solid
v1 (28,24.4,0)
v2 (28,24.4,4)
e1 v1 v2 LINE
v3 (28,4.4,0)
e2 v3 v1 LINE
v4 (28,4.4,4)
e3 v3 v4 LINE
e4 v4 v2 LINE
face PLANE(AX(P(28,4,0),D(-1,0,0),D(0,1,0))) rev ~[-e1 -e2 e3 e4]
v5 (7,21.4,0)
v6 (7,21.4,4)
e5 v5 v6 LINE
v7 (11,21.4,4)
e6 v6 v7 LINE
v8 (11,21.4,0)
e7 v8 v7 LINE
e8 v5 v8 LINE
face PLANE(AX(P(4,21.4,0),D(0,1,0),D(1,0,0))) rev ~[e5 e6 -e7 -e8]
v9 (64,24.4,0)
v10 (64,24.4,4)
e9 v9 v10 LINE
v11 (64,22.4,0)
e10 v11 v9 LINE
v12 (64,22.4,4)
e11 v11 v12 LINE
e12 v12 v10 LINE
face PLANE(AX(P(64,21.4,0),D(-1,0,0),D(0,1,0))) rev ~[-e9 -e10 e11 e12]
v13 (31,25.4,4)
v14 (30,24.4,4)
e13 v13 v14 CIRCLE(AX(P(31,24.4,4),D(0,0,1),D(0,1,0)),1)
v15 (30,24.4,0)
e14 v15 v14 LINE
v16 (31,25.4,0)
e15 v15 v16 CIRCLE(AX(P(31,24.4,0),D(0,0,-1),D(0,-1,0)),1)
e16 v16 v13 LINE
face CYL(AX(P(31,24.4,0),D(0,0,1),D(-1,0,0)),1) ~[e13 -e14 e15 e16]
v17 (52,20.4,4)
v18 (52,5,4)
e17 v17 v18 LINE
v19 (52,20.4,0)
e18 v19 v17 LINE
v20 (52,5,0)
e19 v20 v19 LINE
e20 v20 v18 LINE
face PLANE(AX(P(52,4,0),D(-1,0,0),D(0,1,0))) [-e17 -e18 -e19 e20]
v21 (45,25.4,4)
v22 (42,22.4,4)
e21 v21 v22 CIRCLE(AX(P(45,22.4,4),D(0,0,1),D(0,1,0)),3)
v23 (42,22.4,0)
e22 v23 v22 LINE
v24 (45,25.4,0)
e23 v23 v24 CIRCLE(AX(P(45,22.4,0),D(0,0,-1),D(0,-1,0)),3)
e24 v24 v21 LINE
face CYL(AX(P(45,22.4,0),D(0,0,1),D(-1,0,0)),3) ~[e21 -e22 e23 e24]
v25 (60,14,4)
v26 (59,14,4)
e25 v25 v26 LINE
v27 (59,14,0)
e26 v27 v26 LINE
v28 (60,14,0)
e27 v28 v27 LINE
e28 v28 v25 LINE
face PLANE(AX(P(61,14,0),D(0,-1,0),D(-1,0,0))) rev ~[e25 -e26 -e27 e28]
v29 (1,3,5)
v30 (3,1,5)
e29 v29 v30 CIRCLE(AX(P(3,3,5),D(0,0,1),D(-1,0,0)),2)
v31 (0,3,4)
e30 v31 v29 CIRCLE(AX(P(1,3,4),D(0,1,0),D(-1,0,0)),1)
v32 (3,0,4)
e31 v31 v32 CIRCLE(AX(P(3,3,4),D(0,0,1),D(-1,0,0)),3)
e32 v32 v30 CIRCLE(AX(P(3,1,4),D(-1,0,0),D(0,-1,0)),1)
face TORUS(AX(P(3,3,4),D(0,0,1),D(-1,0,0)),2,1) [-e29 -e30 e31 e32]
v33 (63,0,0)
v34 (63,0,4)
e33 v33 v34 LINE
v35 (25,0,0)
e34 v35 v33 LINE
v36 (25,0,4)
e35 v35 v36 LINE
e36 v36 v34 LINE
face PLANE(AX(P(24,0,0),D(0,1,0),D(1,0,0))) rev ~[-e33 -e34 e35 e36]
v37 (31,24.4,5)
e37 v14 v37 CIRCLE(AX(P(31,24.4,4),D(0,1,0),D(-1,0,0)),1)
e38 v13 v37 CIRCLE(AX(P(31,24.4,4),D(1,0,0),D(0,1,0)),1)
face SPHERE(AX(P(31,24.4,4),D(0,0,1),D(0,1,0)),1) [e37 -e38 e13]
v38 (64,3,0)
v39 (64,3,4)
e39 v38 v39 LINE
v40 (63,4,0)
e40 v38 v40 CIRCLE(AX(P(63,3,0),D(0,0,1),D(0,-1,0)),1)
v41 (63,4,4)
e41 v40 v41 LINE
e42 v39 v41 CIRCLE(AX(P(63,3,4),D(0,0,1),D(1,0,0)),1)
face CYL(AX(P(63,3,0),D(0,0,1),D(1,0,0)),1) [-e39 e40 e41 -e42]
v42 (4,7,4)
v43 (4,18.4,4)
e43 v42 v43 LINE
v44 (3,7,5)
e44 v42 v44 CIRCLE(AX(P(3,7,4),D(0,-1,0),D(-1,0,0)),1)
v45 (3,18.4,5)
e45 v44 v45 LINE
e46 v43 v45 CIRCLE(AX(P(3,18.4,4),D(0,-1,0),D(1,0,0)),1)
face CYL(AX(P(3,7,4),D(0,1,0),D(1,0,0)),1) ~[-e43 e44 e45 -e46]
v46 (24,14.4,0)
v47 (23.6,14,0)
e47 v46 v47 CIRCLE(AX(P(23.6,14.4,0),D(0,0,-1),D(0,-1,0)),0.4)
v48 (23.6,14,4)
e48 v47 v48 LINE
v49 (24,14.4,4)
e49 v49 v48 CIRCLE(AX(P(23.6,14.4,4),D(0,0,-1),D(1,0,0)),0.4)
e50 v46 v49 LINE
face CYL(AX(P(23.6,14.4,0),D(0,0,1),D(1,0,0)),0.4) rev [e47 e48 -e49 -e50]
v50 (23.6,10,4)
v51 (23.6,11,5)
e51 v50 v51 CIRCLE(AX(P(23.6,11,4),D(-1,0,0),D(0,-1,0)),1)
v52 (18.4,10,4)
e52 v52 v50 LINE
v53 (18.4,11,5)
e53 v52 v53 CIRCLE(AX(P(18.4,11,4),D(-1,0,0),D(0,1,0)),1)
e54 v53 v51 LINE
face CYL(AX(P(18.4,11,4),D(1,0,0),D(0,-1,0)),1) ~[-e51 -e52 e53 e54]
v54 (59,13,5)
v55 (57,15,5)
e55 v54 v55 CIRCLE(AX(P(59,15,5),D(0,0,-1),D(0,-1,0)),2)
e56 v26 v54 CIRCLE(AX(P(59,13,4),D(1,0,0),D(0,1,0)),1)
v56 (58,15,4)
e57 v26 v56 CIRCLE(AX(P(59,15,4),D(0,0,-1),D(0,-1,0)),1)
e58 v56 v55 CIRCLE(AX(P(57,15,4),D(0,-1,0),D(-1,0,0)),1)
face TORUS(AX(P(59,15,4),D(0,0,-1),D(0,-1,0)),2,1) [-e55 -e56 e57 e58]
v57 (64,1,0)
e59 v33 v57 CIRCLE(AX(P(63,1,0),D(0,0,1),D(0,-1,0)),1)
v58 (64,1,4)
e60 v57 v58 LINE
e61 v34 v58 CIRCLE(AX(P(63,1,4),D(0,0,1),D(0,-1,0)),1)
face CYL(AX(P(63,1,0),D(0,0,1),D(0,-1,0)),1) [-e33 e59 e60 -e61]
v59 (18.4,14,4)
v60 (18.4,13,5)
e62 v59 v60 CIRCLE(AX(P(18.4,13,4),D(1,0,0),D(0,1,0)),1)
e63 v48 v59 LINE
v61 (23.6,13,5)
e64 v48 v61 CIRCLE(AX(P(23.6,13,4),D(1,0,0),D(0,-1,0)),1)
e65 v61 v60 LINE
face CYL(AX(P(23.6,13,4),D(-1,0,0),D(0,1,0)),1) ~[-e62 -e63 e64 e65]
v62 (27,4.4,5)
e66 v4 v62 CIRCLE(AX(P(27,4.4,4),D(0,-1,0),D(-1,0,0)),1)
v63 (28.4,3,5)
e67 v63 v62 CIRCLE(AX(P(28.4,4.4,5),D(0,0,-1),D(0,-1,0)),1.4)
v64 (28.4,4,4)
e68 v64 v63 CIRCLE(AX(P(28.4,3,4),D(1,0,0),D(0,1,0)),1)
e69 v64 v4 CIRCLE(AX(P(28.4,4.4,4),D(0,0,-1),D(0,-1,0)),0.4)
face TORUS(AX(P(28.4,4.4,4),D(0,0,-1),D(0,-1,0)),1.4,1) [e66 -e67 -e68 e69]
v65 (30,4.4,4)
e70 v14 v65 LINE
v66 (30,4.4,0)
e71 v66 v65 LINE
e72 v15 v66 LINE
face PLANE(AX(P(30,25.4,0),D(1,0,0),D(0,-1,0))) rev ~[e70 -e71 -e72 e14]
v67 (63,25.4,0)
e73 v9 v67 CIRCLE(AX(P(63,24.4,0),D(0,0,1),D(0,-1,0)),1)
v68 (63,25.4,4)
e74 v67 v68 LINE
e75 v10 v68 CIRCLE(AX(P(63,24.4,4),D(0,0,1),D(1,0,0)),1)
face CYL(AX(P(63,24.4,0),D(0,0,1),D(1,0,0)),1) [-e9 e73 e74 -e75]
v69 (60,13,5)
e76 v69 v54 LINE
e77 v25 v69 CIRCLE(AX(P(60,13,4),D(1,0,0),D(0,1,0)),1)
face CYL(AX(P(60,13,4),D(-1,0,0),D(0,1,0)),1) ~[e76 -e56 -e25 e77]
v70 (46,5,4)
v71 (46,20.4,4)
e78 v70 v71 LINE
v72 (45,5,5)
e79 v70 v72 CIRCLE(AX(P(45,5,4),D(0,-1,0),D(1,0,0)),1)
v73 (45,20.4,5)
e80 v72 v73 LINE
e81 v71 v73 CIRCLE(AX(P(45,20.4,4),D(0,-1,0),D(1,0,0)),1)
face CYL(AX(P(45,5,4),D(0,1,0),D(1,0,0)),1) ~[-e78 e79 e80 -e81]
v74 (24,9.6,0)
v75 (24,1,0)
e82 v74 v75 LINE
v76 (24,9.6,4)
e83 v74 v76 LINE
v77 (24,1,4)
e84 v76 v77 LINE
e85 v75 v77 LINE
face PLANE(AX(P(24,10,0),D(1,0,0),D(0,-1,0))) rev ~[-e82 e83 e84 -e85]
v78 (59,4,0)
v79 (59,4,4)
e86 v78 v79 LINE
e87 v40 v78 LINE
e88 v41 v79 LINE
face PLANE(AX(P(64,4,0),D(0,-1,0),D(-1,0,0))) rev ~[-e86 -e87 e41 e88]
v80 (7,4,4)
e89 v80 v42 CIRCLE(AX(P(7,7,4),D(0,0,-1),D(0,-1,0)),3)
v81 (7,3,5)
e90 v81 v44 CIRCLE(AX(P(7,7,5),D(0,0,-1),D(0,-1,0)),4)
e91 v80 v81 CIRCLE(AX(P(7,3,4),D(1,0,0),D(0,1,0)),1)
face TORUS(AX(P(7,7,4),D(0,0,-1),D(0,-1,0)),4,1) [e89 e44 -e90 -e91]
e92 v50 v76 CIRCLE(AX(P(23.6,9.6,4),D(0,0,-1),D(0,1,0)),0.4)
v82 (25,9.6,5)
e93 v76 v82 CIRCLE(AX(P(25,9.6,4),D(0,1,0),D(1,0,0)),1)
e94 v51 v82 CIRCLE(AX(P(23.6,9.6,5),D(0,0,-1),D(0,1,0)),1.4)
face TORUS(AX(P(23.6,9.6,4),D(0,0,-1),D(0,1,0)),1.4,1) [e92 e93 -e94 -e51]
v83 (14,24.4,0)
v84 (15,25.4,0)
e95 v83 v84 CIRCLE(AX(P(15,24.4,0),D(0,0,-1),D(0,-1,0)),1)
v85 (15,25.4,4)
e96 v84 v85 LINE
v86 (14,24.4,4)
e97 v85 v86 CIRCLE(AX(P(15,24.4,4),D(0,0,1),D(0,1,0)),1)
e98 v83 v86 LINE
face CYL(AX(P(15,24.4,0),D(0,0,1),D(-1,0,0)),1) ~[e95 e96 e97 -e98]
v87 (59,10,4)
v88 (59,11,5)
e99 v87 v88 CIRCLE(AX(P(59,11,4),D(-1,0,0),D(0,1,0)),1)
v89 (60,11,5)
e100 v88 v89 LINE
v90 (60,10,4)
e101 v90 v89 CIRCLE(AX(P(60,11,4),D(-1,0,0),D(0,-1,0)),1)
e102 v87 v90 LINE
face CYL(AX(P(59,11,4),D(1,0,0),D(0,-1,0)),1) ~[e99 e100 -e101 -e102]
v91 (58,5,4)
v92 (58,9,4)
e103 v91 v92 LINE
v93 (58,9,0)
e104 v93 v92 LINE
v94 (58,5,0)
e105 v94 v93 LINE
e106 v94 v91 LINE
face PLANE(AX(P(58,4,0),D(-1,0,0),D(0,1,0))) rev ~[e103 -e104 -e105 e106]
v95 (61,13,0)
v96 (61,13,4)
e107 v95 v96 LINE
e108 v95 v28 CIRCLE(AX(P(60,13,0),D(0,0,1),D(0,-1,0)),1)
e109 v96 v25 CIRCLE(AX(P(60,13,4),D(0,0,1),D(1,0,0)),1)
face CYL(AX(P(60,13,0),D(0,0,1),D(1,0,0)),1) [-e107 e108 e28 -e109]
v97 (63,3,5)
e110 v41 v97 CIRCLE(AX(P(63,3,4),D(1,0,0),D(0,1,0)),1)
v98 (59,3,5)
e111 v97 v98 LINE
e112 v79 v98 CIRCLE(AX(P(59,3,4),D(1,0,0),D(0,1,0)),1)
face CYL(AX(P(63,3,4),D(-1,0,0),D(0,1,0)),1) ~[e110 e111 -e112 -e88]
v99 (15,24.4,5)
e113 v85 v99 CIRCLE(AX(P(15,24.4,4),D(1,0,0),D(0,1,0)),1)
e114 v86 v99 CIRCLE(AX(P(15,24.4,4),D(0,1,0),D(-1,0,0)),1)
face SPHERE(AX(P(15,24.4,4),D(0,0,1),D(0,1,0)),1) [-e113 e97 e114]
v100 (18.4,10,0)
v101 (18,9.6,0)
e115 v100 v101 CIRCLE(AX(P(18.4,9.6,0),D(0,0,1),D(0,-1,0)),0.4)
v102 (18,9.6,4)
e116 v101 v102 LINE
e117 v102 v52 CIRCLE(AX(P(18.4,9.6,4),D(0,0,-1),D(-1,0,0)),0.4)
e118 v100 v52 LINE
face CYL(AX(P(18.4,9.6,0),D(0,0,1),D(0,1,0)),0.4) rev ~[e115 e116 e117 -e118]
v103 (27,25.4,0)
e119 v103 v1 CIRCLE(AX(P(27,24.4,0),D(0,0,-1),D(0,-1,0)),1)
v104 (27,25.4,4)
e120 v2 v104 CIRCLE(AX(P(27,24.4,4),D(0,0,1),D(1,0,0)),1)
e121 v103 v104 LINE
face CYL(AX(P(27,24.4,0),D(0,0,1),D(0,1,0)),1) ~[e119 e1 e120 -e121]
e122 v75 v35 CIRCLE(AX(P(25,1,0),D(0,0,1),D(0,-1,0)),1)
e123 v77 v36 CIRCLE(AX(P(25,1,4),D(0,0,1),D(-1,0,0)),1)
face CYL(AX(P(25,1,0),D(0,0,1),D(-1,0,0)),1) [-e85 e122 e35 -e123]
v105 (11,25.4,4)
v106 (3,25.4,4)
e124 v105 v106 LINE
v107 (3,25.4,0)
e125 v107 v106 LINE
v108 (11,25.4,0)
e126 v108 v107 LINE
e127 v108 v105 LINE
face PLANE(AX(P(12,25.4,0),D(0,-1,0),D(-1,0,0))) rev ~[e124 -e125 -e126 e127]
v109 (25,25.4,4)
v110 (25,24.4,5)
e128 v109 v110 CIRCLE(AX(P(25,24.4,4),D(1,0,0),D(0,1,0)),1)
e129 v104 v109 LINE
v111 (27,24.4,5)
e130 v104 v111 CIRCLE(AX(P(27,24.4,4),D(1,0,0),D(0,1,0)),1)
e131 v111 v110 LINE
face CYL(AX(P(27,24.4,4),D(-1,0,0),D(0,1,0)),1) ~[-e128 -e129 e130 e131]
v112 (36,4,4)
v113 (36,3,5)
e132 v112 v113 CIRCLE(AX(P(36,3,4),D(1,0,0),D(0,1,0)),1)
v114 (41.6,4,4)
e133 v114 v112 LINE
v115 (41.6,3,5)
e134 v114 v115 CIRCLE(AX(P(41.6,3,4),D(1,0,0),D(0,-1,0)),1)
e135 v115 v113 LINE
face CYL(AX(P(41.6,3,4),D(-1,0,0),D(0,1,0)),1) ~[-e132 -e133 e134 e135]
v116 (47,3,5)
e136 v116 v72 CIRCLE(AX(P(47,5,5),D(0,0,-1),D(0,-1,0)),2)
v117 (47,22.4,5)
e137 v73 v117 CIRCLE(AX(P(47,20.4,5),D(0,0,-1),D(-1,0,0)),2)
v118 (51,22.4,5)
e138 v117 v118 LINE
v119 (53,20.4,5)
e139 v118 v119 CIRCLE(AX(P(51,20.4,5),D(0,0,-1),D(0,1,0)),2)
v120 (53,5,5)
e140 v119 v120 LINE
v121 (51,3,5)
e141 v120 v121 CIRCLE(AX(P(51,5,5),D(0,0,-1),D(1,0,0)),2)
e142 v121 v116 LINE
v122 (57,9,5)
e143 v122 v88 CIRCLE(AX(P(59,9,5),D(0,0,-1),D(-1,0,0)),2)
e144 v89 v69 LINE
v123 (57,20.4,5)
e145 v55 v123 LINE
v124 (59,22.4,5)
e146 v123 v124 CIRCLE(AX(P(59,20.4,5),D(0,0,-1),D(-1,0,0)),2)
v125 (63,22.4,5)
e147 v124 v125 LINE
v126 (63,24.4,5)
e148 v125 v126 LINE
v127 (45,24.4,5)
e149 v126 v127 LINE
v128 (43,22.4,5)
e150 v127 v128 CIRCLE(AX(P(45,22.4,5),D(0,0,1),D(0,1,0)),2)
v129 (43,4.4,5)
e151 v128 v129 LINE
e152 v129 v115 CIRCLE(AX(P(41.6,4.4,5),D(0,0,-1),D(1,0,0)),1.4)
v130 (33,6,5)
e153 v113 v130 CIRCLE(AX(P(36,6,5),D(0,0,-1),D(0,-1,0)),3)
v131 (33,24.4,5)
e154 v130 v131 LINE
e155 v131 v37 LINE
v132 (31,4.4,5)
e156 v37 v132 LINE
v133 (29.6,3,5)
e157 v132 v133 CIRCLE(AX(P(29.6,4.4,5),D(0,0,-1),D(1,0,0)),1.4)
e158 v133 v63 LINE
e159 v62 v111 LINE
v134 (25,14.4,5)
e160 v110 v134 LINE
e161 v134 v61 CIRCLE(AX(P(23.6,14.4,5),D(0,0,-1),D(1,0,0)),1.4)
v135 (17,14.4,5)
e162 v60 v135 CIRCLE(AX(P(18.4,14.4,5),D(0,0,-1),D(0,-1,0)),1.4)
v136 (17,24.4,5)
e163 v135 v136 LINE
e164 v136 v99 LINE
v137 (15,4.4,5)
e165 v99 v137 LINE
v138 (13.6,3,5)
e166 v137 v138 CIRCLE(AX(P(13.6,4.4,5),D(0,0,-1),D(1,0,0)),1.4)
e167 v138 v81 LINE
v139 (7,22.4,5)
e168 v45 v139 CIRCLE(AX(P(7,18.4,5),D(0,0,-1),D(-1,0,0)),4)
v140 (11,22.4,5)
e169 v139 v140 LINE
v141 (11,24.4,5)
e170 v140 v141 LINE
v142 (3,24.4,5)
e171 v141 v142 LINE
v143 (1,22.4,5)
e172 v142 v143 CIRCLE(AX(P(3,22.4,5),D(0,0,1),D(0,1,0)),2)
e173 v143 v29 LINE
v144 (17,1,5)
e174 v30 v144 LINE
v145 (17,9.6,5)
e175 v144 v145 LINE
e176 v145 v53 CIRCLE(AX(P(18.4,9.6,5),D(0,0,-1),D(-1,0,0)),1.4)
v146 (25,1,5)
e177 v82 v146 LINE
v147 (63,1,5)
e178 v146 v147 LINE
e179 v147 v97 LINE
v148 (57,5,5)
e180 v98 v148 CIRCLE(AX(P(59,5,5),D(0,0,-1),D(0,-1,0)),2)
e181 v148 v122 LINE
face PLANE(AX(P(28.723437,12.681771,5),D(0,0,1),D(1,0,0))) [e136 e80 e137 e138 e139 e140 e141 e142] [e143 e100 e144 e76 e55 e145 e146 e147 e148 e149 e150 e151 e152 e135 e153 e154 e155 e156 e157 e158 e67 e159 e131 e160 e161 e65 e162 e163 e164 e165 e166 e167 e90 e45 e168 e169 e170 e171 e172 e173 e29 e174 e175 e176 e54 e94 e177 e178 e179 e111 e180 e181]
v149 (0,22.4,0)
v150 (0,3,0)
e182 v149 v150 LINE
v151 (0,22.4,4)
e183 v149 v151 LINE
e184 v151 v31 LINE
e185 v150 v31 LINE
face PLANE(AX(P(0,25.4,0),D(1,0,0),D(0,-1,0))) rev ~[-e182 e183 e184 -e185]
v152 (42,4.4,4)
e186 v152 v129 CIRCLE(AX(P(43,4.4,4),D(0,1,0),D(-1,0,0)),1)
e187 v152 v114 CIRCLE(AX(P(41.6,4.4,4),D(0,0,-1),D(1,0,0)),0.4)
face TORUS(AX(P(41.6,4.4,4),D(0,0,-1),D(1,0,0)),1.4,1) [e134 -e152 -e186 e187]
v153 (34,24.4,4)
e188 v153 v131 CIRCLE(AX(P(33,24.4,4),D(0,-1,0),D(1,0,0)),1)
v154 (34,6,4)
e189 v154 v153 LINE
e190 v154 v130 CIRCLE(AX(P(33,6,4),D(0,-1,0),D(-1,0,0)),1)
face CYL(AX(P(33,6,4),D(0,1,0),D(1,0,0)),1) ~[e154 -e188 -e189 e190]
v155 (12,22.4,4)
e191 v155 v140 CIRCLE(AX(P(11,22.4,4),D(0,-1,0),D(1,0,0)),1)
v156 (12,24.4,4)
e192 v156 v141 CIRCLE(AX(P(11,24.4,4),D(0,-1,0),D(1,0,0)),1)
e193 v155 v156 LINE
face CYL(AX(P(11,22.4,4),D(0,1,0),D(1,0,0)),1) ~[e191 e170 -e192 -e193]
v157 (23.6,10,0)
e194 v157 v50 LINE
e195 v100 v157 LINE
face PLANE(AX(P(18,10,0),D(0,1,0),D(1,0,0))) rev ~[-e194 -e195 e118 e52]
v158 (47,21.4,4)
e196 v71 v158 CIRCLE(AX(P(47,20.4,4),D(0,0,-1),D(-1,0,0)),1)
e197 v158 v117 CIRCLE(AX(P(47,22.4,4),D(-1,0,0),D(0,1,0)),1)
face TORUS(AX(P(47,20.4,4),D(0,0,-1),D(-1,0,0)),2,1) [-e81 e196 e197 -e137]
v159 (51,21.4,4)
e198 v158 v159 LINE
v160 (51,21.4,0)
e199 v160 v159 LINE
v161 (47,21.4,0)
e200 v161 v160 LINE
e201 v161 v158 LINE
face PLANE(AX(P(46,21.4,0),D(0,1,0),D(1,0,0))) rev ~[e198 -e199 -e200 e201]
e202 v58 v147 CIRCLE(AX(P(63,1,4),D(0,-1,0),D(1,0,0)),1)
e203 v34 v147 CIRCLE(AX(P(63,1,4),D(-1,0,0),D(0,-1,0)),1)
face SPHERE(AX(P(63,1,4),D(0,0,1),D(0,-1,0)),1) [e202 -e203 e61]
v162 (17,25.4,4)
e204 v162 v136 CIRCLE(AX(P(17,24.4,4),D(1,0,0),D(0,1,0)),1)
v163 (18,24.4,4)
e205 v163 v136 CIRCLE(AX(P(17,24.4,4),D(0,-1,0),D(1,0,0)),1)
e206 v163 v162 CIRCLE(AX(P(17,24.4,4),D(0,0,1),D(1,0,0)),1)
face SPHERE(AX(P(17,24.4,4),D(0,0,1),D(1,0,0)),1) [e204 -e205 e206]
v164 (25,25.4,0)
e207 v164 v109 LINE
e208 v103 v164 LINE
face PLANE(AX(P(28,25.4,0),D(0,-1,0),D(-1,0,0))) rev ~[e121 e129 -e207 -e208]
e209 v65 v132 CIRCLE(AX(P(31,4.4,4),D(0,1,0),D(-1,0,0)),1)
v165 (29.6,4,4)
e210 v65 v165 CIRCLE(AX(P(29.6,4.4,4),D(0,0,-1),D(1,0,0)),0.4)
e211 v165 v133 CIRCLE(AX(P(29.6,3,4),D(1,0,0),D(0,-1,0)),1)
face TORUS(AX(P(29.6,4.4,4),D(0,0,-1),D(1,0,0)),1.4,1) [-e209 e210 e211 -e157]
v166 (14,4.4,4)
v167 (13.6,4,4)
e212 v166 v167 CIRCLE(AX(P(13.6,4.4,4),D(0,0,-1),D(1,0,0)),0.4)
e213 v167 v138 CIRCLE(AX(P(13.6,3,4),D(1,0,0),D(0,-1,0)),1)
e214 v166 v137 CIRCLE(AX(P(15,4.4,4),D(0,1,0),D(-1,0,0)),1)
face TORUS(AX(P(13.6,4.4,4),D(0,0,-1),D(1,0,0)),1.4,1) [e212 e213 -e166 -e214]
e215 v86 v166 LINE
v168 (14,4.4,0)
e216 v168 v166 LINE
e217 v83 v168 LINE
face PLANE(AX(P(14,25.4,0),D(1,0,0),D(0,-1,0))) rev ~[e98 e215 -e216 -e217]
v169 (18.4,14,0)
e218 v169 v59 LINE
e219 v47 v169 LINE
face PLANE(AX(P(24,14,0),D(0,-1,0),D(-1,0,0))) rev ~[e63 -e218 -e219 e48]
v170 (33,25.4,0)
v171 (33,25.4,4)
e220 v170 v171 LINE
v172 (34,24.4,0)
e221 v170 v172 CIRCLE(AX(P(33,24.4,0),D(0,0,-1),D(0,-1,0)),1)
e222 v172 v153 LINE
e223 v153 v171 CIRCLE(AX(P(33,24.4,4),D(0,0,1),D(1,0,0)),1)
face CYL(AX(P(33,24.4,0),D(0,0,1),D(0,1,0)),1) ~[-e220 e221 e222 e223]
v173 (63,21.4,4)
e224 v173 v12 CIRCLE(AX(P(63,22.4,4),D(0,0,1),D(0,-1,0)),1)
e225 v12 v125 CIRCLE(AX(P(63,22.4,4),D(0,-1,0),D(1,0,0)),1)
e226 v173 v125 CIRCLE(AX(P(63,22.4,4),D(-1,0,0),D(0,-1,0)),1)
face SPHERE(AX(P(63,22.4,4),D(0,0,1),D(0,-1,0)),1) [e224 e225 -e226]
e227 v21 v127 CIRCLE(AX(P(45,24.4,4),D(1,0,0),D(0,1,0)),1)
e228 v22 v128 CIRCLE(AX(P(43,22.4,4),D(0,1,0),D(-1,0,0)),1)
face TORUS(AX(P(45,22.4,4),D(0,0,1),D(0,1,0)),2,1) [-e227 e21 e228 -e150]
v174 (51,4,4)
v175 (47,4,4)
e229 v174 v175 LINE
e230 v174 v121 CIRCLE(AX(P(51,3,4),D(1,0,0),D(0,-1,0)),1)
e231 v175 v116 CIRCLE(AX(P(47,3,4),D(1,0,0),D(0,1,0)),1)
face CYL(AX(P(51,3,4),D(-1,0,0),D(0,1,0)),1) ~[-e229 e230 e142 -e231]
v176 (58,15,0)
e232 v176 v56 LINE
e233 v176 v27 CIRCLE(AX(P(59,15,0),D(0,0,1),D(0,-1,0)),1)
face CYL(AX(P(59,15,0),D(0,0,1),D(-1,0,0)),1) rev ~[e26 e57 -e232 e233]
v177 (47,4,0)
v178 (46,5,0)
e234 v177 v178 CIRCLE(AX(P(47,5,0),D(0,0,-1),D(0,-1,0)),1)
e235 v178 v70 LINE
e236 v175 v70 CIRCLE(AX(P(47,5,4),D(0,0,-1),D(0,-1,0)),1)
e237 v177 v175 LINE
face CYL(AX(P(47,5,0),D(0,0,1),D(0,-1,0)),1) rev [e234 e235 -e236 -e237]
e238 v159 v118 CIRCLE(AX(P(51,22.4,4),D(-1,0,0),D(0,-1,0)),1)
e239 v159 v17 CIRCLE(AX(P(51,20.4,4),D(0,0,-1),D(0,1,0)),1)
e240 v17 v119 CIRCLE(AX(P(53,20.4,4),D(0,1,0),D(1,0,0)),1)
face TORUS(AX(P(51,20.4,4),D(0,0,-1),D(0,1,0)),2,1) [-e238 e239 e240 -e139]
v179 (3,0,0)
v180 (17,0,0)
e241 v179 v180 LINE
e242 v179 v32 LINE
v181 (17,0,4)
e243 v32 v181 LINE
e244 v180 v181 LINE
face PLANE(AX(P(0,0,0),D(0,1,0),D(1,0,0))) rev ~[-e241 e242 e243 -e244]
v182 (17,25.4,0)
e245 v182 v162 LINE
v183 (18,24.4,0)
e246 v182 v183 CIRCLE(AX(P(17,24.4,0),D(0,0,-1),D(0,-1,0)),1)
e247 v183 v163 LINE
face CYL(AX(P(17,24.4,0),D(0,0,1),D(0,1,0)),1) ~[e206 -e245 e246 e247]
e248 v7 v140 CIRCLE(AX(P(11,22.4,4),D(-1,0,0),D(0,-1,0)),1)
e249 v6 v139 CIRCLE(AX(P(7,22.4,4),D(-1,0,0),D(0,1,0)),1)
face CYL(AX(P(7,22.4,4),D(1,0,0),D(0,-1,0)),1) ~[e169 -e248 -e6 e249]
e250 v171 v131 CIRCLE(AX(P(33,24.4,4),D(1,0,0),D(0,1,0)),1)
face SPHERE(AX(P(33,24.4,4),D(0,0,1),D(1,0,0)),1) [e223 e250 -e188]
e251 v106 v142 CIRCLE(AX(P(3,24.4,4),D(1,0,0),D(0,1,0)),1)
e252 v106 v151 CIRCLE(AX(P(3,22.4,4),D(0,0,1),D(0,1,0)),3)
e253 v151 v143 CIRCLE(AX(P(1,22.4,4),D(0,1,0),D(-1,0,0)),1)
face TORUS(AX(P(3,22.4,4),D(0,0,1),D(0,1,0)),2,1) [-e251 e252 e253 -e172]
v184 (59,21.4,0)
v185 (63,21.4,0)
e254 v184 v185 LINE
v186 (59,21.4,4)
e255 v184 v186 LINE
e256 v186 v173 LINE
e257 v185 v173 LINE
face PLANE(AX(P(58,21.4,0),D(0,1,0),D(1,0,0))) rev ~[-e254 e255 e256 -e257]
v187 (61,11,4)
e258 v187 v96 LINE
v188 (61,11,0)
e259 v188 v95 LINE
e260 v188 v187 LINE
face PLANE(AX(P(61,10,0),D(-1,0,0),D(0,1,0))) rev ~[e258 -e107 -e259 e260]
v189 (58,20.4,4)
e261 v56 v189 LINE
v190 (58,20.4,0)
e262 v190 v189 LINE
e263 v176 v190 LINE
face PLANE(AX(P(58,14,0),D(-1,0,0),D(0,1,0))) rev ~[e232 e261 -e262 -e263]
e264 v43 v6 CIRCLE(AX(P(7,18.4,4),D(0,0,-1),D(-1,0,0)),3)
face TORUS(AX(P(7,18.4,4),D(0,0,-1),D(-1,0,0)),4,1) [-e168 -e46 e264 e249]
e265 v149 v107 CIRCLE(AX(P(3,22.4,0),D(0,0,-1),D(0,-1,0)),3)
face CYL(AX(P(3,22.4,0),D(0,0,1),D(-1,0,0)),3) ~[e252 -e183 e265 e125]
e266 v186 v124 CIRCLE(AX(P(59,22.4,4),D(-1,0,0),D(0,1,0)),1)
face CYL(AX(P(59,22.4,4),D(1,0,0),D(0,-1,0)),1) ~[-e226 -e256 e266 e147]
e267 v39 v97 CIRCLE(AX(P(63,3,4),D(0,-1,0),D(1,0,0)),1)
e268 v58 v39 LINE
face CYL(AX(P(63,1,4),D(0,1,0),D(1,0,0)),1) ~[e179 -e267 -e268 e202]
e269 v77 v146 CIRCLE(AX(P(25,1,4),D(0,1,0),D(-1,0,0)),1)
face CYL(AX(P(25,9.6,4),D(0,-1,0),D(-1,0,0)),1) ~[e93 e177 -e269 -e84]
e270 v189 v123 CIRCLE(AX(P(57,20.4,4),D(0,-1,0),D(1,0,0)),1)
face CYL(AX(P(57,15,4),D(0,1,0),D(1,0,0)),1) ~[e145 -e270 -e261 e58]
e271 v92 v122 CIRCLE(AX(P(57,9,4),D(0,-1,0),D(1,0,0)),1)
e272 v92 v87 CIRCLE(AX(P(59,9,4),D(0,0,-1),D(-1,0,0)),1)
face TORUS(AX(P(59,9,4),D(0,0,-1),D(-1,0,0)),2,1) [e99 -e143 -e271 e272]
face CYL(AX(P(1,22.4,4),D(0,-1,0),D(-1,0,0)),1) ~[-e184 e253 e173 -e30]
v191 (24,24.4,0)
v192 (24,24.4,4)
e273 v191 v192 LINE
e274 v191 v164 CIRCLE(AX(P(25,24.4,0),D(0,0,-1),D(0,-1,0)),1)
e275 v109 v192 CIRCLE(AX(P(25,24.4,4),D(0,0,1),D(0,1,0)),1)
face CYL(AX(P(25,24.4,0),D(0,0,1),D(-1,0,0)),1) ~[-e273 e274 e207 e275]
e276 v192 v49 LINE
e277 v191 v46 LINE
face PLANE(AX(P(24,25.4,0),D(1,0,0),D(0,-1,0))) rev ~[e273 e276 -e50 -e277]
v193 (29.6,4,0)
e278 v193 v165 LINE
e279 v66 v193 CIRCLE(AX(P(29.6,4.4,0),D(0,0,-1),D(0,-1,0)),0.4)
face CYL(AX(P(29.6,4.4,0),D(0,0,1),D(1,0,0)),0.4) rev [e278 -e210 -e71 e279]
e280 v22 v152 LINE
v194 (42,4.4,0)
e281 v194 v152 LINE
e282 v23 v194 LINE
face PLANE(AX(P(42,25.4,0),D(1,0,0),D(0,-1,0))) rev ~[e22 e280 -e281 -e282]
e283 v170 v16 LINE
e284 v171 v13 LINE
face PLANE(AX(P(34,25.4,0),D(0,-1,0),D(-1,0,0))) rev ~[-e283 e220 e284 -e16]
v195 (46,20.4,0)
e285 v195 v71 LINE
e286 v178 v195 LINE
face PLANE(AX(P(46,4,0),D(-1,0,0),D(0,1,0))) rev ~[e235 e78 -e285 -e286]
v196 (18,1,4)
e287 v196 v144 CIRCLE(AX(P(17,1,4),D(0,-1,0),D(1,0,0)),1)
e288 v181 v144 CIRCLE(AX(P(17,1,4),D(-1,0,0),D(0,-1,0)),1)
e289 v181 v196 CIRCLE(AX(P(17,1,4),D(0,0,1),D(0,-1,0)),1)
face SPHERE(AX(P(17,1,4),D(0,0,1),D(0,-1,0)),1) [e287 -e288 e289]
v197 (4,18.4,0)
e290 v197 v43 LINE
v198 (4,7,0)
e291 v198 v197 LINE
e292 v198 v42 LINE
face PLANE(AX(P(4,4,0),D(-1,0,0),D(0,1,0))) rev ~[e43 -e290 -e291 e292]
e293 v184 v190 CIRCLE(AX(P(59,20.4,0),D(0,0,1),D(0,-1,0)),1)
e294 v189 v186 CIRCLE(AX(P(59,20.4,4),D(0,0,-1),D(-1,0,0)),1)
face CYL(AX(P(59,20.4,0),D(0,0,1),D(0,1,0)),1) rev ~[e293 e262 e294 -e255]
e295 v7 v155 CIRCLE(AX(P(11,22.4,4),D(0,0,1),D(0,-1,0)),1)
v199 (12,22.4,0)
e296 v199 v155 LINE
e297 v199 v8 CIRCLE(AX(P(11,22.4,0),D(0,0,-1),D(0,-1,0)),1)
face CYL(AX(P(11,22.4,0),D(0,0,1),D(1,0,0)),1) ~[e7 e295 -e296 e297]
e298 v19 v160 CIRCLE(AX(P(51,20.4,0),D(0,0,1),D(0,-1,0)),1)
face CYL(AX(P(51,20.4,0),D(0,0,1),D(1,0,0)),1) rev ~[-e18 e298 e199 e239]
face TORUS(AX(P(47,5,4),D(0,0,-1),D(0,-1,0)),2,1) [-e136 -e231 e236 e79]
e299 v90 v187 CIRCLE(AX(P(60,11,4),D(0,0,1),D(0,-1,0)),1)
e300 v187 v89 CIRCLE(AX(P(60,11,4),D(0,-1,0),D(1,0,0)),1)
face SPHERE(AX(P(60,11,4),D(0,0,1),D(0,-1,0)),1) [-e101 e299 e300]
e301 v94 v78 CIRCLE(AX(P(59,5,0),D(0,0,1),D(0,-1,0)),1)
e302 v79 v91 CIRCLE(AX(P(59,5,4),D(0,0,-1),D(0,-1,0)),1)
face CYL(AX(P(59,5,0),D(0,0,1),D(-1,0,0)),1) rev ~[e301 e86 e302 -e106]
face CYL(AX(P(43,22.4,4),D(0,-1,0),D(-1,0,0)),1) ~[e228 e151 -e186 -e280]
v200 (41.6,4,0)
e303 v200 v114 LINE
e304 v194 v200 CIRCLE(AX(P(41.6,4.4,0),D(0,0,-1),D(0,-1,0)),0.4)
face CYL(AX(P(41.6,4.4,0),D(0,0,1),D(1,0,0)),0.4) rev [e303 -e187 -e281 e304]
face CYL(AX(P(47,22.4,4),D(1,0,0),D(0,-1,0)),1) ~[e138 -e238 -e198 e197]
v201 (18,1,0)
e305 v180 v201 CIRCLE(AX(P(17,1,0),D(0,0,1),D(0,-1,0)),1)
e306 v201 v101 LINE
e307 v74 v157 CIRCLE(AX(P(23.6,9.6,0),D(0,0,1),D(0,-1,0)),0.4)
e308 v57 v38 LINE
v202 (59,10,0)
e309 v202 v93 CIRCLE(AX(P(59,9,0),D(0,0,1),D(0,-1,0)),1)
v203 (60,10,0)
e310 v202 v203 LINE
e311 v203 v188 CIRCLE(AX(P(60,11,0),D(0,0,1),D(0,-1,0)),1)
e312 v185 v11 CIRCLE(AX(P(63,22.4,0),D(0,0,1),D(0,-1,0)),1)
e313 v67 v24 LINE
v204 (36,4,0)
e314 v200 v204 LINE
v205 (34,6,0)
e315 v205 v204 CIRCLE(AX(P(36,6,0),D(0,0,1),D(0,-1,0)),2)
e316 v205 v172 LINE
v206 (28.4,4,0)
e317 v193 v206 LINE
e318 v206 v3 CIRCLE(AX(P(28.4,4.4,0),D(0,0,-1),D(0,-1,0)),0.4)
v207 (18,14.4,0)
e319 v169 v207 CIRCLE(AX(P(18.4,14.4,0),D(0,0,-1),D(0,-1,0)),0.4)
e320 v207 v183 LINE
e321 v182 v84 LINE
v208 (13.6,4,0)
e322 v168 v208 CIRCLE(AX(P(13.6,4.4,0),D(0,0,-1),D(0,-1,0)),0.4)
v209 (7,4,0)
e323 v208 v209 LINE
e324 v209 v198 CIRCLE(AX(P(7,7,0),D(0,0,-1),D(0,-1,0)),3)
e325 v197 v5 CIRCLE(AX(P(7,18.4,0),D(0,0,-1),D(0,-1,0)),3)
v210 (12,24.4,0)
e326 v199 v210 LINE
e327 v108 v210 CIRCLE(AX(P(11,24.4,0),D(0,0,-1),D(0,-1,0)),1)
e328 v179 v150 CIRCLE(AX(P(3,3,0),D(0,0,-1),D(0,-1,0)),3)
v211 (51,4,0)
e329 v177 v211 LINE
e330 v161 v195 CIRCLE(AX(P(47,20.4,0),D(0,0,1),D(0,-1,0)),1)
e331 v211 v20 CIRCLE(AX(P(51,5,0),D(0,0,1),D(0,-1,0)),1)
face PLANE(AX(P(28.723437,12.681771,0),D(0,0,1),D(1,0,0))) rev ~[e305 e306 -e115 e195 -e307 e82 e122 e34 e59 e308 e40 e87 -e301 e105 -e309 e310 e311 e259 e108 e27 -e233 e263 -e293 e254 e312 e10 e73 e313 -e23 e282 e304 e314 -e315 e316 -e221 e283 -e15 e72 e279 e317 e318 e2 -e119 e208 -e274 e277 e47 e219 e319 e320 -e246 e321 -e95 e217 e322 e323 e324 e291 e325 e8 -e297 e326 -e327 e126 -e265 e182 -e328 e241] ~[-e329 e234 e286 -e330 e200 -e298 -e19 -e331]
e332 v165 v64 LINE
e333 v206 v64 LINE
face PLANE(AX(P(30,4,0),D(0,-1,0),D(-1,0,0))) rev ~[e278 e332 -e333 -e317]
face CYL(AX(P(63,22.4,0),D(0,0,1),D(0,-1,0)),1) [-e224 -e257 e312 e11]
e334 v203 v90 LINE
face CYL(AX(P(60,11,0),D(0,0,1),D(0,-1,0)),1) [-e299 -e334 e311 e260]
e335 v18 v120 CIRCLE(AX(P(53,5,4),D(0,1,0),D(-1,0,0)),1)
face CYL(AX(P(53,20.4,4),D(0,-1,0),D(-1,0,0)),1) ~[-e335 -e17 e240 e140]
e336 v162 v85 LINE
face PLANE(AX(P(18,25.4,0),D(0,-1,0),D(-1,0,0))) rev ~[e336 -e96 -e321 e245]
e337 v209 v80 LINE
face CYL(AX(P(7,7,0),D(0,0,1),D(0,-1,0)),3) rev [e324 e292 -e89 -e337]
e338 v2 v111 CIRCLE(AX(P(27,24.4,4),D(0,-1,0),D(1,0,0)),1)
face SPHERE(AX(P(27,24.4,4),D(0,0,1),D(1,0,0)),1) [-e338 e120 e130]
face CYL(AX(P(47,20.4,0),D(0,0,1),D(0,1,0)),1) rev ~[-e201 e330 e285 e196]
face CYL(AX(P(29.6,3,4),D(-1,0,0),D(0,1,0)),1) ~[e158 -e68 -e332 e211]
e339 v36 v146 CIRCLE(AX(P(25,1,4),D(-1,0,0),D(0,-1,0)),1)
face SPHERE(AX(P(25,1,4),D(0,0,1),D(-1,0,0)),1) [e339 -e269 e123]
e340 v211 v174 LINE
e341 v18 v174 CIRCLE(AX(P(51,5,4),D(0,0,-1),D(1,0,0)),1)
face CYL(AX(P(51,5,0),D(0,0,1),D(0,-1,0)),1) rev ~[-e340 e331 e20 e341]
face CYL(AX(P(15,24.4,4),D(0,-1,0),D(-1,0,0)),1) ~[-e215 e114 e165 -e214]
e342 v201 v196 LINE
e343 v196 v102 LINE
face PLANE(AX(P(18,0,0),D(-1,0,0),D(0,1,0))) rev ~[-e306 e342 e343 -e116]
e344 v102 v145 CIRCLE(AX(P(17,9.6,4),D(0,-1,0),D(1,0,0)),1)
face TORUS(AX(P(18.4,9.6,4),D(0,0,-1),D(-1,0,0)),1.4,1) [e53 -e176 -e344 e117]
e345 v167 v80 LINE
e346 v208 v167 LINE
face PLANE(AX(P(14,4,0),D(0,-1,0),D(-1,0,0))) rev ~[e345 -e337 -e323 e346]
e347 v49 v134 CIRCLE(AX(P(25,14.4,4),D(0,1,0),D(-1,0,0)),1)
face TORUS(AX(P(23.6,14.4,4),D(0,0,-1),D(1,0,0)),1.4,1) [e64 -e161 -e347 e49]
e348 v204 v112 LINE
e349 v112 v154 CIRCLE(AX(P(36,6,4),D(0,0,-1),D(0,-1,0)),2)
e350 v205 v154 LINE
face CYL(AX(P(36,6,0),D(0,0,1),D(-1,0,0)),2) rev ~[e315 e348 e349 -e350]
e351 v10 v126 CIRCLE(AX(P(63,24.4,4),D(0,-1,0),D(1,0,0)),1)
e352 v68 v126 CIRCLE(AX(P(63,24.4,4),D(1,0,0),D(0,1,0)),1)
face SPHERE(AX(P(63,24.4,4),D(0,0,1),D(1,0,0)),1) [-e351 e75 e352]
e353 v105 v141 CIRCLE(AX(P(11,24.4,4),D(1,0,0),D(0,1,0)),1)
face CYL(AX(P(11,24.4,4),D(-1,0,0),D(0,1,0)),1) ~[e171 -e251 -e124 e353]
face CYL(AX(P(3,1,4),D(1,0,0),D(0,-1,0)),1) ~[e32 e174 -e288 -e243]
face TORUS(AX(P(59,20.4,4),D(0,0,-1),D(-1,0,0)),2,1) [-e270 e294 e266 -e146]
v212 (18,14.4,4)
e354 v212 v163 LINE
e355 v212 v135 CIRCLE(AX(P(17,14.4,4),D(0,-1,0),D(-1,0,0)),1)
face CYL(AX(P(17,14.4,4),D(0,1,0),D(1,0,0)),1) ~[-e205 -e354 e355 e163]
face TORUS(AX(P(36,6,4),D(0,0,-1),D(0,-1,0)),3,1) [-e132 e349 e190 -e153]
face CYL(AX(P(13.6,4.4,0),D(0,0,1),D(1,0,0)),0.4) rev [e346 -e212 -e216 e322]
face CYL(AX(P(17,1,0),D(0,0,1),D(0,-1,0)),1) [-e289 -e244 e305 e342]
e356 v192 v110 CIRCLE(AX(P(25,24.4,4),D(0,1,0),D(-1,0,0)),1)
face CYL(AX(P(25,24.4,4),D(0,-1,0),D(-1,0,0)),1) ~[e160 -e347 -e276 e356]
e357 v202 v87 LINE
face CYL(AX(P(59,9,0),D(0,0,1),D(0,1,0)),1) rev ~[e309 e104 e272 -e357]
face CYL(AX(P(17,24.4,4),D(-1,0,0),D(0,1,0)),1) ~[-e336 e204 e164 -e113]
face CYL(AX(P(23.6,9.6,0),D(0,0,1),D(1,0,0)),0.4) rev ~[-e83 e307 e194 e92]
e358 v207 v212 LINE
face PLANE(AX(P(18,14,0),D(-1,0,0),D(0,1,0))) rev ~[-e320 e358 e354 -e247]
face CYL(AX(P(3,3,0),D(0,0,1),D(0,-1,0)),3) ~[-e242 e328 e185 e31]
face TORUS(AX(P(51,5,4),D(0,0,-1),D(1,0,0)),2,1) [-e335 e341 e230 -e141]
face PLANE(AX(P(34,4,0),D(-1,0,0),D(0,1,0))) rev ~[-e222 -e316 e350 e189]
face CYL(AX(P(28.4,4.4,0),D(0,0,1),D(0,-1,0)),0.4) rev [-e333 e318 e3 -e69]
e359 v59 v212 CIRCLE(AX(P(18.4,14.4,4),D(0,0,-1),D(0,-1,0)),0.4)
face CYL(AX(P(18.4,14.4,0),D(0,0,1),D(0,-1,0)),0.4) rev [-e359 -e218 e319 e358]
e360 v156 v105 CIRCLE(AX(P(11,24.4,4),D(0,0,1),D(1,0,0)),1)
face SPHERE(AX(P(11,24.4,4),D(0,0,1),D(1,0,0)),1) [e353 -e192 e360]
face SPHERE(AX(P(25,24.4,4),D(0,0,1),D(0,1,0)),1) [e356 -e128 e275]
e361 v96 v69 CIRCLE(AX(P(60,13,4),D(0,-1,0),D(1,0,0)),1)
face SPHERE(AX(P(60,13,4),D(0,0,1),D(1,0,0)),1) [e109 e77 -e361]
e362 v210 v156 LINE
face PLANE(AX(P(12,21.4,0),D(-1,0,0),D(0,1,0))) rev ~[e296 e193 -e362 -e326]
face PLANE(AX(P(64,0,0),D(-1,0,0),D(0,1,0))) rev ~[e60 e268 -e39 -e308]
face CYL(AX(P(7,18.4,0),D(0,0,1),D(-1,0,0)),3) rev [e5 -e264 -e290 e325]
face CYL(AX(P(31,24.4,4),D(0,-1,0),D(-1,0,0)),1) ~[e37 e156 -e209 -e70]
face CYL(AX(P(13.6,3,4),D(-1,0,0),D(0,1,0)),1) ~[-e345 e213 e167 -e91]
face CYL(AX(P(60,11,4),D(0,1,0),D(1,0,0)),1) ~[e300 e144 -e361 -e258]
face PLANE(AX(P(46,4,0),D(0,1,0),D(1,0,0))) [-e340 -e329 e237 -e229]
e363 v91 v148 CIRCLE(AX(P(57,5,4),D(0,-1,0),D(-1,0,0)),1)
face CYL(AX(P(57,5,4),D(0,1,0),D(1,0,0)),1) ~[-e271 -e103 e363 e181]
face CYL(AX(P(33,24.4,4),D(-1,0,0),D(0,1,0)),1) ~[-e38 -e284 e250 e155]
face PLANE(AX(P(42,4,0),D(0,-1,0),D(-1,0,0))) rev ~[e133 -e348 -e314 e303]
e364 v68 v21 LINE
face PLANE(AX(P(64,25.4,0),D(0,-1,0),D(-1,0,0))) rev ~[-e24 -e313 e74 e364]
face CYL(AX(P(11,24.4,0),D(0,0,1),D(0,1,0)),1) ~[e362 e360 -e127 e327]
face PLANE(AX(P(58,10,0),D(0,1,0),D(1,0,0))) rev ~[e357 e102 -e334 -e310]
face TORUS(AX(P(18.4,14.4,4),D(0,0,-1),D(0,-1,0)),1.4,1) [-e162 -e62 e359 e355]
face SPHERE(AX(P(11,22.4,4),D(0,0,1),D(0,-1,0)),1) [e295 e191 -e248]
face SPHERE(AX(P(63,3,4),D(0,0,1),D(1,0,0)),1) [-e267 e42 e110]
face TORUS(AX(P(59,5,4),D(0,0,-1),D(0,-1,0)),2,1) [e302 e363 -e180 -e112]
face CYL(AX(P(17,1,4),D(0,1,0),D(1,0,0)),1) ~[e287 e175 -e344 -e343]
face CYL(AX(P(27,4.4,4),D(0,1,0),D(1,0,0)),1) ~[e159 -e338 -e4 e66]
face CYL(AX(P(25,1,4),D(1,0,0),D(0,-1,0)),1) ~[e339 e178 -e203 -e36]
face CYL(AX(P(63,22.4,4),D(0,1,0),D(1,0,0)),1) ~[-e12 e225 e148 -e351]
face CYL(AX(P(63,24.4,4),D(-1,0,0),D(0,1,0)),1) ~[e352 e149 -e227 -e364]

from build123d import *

# Parameters (mm, degrees)
F0_W     = 6
F0_H     = 17.4
F1_DEPTH = 5
F2_R     = 1
F3_R     = 2
F4_R     = 1
F5_R     = 0.4
F6_R     = 3
F7_R     = 1


with BuildPart() as f1:
    # F0 (on Top) → F1 (new body)
    with BuildSketch(Plane.XY):
        Polygon((0, 25.4), (0, 0), (18, 0), (18, 10), (24, 10), (24, 0), (64, 0), (64, 4), (58, 4), (58, 10), (61, 10), (61, 14), (58, 14), (58, 21.4), (64, 21.4), (64, 25.4), (42, 25.4), (42, 4), (34, 4), (34, 25.4), (30, 25.4), (30, 4), (28, 4), (28, 25.4), (24, 25.4), (24, 14), (18, 14), (18, 25.4), (14, 25.4), (14, 4), (4, 4), (4, 21.4), (12, 21.4), (12, 25.4), align=None)
        with Locations((49, 12.7)):
            Rectangle(F0_W, F0_H, mode=Mode.SUBTRACT)
    extrude(amount=F1_DEPTH)

    # F2
    f2_edges = [f1.edges().sort_by_distance(p)[0] for p in [
        (12, 25.4, 2.5),
        (12, 21.4, 2.5),
        (14, 25.4, 2.5),
        (18, 25.4, 2.5),
        (24, 25.4, 2.5),
        (28, 25.4, 2.5),
        (30, 25.4, 2.5),
        (34, 25.4, 2.5),
        (64, 25.4, 2.5),
        (64, 21.4, 2.5),
        (61, 14, 2.5),
        (61, 10, 2.5),
        (64, 4, 2.5),
        (64, 0, 2.5),
        (18, 0, 2.5),
        (24, 0, 2.5),
        (46, 21.4, 2.5),
        (52, 21.4, 2.5),
        (52, 4, 2.5),
        (46, 4, 2.5),
    ]]
    fillet(f2_edges, radius=F2_R)

    # F3
    f3_edges = [f1.edges().sort_by_distance(p)[0] for p in [
        (34, 4, 2.5),
    ]]
    fillet(f3_edges, radius=F3_R)

    # F4
    f4_edges = [f1.edges().sort_by_distance(p)[0] for p in [
        (58, 21.4, 2.5),
        (58, 14, 2.5),
        (58, 10, 2.5),
        (58, 4, 2.5),
    ]]
    fillet(f4_edges, radius=F4_R)

    # F5
    f5_edges = [f1.edges().sort_by_distance(p)[0] for p in [
        (18, 14, 2.5),
        (24, 14, 2.5),
        (24, 10, 2.5),
        (18, 10, 2.5),
        (28, 4, 2.5),
        (30, 4, 2.5),
        (42, 4, 2.5),
        (14, 4, 2.5),
    ]]
    fillet(f5_edges, radius=F5_R)

    # F6
    f6_edges = [f1.edges().sort_by_distance(p)[0] for p in [
        (4, 21.4, 2.5),
        (4, 4, 2.5),
        (0, 25.4, 2.5),
        (0, 0, 2.5),
        (42, 25.4, 2.5),
    ]]
    fillet(f6_edges, radius=F6_R)

    # F7
    f7_edges = [f1.edges().sort_by_distance(p)[0] for p in [
        (42, 13.4, 5),
        (42.87868, 24.52132, 5),
        (41.882843, 4.117157, 5),
        (54, 25.4, 5),
        (38.8, 4, 5),
        (63.707107, 25.107107, 5),
        (34.585786, 4.585786, 5),
        (64, 23.4, 5),
        (34, 15.2, 5),
        (63.707107, 21.692893, 5),
        (33.707107, 25.107107, 5),
        (61, 21.4, 5),
        (32, 25.4, 5),
        (58.292893, 21.107107, 5),
        (30.292893, 25.107107, 5),
        (58, 17.7, 5),
        (30, 14.4, 5),
        (58.292893, 14.292893, 5),
        (29.882843, 4.117157, 5),
        (59.5, 14, 5),
        (29, 4, 5),
        (60.707107, 13.707107, 5),
        (28.117157, 4.117157, 5),
        (61, 12, 5),
        (28, 14.4, 5),
        (60.707107, 10.292893, 5),
        (27.707107, 25.107107, 5),
        (59.5, 10, 5),
        (26, 25.4, 5),
        (58.292893, 9.707107, 5),
        (24.292893, 25.107107, 5),
        (58, 7, 5),
        (24, 19.4, 5),
        (58.292893, 4.292893, 5),
        (23.882843, 14.117157, 5),
        (61, 4, 5),
        (21, 14, 5),
        (63.707107, 3.707107, 5),
        (18.117157, 14.117157, 5),
        (64, 2, 5),
        (18, 19.4, 5),
        (63.707107, 0.292893, 5),
        (17.707107, 25.107107, 5),
        (44, 0, 5),
        (16, 25.4, 5),
        (24.292893, 0.292893, 5),
        (14.292893, 25.107107, 5),
        (24, 5.3, 5),
        (14, 14.4, 5),
        (23.882843, 9.882843, 5),
        (13.882843, 4.117157, 5),
        (21, 10, 5),
        (10.3, 4, 5),
        (18.117157, 9.882843, 5),
        (4.87868, 4.87868, 5),
        (18, 5.3, 5),
        (4, 12.7, 5),
        (17.707107, 0.292893, 5),
        (4.87868, 20.52132, 5),
        (10, 0, 5),
        (9, 21.4, 5),
        (0.87868, 0.87868, 5),
        (11.707107, 21.692893, 5),
        (0, 12.7, 5),
        (12, 23.4, 5),
        (0.87868, 24.52132, 5),
        (11.707107, 25.107107, 5),
        (7, 25.4, 5),
        (46, 12.7, 5),
        (46.292893, 4.292893, 5),
        (46.292893, 21.107107, 5),
        (49, 4, 5),
        (49, 21.4, 5),
        (51.707107, 4.292893, 5),
        (51.707107, 21.107107, 5),
        (52, 12.7, 5),
    ]]
    fillet(f7_edges, radius=F7_R)


solid = f1.part
